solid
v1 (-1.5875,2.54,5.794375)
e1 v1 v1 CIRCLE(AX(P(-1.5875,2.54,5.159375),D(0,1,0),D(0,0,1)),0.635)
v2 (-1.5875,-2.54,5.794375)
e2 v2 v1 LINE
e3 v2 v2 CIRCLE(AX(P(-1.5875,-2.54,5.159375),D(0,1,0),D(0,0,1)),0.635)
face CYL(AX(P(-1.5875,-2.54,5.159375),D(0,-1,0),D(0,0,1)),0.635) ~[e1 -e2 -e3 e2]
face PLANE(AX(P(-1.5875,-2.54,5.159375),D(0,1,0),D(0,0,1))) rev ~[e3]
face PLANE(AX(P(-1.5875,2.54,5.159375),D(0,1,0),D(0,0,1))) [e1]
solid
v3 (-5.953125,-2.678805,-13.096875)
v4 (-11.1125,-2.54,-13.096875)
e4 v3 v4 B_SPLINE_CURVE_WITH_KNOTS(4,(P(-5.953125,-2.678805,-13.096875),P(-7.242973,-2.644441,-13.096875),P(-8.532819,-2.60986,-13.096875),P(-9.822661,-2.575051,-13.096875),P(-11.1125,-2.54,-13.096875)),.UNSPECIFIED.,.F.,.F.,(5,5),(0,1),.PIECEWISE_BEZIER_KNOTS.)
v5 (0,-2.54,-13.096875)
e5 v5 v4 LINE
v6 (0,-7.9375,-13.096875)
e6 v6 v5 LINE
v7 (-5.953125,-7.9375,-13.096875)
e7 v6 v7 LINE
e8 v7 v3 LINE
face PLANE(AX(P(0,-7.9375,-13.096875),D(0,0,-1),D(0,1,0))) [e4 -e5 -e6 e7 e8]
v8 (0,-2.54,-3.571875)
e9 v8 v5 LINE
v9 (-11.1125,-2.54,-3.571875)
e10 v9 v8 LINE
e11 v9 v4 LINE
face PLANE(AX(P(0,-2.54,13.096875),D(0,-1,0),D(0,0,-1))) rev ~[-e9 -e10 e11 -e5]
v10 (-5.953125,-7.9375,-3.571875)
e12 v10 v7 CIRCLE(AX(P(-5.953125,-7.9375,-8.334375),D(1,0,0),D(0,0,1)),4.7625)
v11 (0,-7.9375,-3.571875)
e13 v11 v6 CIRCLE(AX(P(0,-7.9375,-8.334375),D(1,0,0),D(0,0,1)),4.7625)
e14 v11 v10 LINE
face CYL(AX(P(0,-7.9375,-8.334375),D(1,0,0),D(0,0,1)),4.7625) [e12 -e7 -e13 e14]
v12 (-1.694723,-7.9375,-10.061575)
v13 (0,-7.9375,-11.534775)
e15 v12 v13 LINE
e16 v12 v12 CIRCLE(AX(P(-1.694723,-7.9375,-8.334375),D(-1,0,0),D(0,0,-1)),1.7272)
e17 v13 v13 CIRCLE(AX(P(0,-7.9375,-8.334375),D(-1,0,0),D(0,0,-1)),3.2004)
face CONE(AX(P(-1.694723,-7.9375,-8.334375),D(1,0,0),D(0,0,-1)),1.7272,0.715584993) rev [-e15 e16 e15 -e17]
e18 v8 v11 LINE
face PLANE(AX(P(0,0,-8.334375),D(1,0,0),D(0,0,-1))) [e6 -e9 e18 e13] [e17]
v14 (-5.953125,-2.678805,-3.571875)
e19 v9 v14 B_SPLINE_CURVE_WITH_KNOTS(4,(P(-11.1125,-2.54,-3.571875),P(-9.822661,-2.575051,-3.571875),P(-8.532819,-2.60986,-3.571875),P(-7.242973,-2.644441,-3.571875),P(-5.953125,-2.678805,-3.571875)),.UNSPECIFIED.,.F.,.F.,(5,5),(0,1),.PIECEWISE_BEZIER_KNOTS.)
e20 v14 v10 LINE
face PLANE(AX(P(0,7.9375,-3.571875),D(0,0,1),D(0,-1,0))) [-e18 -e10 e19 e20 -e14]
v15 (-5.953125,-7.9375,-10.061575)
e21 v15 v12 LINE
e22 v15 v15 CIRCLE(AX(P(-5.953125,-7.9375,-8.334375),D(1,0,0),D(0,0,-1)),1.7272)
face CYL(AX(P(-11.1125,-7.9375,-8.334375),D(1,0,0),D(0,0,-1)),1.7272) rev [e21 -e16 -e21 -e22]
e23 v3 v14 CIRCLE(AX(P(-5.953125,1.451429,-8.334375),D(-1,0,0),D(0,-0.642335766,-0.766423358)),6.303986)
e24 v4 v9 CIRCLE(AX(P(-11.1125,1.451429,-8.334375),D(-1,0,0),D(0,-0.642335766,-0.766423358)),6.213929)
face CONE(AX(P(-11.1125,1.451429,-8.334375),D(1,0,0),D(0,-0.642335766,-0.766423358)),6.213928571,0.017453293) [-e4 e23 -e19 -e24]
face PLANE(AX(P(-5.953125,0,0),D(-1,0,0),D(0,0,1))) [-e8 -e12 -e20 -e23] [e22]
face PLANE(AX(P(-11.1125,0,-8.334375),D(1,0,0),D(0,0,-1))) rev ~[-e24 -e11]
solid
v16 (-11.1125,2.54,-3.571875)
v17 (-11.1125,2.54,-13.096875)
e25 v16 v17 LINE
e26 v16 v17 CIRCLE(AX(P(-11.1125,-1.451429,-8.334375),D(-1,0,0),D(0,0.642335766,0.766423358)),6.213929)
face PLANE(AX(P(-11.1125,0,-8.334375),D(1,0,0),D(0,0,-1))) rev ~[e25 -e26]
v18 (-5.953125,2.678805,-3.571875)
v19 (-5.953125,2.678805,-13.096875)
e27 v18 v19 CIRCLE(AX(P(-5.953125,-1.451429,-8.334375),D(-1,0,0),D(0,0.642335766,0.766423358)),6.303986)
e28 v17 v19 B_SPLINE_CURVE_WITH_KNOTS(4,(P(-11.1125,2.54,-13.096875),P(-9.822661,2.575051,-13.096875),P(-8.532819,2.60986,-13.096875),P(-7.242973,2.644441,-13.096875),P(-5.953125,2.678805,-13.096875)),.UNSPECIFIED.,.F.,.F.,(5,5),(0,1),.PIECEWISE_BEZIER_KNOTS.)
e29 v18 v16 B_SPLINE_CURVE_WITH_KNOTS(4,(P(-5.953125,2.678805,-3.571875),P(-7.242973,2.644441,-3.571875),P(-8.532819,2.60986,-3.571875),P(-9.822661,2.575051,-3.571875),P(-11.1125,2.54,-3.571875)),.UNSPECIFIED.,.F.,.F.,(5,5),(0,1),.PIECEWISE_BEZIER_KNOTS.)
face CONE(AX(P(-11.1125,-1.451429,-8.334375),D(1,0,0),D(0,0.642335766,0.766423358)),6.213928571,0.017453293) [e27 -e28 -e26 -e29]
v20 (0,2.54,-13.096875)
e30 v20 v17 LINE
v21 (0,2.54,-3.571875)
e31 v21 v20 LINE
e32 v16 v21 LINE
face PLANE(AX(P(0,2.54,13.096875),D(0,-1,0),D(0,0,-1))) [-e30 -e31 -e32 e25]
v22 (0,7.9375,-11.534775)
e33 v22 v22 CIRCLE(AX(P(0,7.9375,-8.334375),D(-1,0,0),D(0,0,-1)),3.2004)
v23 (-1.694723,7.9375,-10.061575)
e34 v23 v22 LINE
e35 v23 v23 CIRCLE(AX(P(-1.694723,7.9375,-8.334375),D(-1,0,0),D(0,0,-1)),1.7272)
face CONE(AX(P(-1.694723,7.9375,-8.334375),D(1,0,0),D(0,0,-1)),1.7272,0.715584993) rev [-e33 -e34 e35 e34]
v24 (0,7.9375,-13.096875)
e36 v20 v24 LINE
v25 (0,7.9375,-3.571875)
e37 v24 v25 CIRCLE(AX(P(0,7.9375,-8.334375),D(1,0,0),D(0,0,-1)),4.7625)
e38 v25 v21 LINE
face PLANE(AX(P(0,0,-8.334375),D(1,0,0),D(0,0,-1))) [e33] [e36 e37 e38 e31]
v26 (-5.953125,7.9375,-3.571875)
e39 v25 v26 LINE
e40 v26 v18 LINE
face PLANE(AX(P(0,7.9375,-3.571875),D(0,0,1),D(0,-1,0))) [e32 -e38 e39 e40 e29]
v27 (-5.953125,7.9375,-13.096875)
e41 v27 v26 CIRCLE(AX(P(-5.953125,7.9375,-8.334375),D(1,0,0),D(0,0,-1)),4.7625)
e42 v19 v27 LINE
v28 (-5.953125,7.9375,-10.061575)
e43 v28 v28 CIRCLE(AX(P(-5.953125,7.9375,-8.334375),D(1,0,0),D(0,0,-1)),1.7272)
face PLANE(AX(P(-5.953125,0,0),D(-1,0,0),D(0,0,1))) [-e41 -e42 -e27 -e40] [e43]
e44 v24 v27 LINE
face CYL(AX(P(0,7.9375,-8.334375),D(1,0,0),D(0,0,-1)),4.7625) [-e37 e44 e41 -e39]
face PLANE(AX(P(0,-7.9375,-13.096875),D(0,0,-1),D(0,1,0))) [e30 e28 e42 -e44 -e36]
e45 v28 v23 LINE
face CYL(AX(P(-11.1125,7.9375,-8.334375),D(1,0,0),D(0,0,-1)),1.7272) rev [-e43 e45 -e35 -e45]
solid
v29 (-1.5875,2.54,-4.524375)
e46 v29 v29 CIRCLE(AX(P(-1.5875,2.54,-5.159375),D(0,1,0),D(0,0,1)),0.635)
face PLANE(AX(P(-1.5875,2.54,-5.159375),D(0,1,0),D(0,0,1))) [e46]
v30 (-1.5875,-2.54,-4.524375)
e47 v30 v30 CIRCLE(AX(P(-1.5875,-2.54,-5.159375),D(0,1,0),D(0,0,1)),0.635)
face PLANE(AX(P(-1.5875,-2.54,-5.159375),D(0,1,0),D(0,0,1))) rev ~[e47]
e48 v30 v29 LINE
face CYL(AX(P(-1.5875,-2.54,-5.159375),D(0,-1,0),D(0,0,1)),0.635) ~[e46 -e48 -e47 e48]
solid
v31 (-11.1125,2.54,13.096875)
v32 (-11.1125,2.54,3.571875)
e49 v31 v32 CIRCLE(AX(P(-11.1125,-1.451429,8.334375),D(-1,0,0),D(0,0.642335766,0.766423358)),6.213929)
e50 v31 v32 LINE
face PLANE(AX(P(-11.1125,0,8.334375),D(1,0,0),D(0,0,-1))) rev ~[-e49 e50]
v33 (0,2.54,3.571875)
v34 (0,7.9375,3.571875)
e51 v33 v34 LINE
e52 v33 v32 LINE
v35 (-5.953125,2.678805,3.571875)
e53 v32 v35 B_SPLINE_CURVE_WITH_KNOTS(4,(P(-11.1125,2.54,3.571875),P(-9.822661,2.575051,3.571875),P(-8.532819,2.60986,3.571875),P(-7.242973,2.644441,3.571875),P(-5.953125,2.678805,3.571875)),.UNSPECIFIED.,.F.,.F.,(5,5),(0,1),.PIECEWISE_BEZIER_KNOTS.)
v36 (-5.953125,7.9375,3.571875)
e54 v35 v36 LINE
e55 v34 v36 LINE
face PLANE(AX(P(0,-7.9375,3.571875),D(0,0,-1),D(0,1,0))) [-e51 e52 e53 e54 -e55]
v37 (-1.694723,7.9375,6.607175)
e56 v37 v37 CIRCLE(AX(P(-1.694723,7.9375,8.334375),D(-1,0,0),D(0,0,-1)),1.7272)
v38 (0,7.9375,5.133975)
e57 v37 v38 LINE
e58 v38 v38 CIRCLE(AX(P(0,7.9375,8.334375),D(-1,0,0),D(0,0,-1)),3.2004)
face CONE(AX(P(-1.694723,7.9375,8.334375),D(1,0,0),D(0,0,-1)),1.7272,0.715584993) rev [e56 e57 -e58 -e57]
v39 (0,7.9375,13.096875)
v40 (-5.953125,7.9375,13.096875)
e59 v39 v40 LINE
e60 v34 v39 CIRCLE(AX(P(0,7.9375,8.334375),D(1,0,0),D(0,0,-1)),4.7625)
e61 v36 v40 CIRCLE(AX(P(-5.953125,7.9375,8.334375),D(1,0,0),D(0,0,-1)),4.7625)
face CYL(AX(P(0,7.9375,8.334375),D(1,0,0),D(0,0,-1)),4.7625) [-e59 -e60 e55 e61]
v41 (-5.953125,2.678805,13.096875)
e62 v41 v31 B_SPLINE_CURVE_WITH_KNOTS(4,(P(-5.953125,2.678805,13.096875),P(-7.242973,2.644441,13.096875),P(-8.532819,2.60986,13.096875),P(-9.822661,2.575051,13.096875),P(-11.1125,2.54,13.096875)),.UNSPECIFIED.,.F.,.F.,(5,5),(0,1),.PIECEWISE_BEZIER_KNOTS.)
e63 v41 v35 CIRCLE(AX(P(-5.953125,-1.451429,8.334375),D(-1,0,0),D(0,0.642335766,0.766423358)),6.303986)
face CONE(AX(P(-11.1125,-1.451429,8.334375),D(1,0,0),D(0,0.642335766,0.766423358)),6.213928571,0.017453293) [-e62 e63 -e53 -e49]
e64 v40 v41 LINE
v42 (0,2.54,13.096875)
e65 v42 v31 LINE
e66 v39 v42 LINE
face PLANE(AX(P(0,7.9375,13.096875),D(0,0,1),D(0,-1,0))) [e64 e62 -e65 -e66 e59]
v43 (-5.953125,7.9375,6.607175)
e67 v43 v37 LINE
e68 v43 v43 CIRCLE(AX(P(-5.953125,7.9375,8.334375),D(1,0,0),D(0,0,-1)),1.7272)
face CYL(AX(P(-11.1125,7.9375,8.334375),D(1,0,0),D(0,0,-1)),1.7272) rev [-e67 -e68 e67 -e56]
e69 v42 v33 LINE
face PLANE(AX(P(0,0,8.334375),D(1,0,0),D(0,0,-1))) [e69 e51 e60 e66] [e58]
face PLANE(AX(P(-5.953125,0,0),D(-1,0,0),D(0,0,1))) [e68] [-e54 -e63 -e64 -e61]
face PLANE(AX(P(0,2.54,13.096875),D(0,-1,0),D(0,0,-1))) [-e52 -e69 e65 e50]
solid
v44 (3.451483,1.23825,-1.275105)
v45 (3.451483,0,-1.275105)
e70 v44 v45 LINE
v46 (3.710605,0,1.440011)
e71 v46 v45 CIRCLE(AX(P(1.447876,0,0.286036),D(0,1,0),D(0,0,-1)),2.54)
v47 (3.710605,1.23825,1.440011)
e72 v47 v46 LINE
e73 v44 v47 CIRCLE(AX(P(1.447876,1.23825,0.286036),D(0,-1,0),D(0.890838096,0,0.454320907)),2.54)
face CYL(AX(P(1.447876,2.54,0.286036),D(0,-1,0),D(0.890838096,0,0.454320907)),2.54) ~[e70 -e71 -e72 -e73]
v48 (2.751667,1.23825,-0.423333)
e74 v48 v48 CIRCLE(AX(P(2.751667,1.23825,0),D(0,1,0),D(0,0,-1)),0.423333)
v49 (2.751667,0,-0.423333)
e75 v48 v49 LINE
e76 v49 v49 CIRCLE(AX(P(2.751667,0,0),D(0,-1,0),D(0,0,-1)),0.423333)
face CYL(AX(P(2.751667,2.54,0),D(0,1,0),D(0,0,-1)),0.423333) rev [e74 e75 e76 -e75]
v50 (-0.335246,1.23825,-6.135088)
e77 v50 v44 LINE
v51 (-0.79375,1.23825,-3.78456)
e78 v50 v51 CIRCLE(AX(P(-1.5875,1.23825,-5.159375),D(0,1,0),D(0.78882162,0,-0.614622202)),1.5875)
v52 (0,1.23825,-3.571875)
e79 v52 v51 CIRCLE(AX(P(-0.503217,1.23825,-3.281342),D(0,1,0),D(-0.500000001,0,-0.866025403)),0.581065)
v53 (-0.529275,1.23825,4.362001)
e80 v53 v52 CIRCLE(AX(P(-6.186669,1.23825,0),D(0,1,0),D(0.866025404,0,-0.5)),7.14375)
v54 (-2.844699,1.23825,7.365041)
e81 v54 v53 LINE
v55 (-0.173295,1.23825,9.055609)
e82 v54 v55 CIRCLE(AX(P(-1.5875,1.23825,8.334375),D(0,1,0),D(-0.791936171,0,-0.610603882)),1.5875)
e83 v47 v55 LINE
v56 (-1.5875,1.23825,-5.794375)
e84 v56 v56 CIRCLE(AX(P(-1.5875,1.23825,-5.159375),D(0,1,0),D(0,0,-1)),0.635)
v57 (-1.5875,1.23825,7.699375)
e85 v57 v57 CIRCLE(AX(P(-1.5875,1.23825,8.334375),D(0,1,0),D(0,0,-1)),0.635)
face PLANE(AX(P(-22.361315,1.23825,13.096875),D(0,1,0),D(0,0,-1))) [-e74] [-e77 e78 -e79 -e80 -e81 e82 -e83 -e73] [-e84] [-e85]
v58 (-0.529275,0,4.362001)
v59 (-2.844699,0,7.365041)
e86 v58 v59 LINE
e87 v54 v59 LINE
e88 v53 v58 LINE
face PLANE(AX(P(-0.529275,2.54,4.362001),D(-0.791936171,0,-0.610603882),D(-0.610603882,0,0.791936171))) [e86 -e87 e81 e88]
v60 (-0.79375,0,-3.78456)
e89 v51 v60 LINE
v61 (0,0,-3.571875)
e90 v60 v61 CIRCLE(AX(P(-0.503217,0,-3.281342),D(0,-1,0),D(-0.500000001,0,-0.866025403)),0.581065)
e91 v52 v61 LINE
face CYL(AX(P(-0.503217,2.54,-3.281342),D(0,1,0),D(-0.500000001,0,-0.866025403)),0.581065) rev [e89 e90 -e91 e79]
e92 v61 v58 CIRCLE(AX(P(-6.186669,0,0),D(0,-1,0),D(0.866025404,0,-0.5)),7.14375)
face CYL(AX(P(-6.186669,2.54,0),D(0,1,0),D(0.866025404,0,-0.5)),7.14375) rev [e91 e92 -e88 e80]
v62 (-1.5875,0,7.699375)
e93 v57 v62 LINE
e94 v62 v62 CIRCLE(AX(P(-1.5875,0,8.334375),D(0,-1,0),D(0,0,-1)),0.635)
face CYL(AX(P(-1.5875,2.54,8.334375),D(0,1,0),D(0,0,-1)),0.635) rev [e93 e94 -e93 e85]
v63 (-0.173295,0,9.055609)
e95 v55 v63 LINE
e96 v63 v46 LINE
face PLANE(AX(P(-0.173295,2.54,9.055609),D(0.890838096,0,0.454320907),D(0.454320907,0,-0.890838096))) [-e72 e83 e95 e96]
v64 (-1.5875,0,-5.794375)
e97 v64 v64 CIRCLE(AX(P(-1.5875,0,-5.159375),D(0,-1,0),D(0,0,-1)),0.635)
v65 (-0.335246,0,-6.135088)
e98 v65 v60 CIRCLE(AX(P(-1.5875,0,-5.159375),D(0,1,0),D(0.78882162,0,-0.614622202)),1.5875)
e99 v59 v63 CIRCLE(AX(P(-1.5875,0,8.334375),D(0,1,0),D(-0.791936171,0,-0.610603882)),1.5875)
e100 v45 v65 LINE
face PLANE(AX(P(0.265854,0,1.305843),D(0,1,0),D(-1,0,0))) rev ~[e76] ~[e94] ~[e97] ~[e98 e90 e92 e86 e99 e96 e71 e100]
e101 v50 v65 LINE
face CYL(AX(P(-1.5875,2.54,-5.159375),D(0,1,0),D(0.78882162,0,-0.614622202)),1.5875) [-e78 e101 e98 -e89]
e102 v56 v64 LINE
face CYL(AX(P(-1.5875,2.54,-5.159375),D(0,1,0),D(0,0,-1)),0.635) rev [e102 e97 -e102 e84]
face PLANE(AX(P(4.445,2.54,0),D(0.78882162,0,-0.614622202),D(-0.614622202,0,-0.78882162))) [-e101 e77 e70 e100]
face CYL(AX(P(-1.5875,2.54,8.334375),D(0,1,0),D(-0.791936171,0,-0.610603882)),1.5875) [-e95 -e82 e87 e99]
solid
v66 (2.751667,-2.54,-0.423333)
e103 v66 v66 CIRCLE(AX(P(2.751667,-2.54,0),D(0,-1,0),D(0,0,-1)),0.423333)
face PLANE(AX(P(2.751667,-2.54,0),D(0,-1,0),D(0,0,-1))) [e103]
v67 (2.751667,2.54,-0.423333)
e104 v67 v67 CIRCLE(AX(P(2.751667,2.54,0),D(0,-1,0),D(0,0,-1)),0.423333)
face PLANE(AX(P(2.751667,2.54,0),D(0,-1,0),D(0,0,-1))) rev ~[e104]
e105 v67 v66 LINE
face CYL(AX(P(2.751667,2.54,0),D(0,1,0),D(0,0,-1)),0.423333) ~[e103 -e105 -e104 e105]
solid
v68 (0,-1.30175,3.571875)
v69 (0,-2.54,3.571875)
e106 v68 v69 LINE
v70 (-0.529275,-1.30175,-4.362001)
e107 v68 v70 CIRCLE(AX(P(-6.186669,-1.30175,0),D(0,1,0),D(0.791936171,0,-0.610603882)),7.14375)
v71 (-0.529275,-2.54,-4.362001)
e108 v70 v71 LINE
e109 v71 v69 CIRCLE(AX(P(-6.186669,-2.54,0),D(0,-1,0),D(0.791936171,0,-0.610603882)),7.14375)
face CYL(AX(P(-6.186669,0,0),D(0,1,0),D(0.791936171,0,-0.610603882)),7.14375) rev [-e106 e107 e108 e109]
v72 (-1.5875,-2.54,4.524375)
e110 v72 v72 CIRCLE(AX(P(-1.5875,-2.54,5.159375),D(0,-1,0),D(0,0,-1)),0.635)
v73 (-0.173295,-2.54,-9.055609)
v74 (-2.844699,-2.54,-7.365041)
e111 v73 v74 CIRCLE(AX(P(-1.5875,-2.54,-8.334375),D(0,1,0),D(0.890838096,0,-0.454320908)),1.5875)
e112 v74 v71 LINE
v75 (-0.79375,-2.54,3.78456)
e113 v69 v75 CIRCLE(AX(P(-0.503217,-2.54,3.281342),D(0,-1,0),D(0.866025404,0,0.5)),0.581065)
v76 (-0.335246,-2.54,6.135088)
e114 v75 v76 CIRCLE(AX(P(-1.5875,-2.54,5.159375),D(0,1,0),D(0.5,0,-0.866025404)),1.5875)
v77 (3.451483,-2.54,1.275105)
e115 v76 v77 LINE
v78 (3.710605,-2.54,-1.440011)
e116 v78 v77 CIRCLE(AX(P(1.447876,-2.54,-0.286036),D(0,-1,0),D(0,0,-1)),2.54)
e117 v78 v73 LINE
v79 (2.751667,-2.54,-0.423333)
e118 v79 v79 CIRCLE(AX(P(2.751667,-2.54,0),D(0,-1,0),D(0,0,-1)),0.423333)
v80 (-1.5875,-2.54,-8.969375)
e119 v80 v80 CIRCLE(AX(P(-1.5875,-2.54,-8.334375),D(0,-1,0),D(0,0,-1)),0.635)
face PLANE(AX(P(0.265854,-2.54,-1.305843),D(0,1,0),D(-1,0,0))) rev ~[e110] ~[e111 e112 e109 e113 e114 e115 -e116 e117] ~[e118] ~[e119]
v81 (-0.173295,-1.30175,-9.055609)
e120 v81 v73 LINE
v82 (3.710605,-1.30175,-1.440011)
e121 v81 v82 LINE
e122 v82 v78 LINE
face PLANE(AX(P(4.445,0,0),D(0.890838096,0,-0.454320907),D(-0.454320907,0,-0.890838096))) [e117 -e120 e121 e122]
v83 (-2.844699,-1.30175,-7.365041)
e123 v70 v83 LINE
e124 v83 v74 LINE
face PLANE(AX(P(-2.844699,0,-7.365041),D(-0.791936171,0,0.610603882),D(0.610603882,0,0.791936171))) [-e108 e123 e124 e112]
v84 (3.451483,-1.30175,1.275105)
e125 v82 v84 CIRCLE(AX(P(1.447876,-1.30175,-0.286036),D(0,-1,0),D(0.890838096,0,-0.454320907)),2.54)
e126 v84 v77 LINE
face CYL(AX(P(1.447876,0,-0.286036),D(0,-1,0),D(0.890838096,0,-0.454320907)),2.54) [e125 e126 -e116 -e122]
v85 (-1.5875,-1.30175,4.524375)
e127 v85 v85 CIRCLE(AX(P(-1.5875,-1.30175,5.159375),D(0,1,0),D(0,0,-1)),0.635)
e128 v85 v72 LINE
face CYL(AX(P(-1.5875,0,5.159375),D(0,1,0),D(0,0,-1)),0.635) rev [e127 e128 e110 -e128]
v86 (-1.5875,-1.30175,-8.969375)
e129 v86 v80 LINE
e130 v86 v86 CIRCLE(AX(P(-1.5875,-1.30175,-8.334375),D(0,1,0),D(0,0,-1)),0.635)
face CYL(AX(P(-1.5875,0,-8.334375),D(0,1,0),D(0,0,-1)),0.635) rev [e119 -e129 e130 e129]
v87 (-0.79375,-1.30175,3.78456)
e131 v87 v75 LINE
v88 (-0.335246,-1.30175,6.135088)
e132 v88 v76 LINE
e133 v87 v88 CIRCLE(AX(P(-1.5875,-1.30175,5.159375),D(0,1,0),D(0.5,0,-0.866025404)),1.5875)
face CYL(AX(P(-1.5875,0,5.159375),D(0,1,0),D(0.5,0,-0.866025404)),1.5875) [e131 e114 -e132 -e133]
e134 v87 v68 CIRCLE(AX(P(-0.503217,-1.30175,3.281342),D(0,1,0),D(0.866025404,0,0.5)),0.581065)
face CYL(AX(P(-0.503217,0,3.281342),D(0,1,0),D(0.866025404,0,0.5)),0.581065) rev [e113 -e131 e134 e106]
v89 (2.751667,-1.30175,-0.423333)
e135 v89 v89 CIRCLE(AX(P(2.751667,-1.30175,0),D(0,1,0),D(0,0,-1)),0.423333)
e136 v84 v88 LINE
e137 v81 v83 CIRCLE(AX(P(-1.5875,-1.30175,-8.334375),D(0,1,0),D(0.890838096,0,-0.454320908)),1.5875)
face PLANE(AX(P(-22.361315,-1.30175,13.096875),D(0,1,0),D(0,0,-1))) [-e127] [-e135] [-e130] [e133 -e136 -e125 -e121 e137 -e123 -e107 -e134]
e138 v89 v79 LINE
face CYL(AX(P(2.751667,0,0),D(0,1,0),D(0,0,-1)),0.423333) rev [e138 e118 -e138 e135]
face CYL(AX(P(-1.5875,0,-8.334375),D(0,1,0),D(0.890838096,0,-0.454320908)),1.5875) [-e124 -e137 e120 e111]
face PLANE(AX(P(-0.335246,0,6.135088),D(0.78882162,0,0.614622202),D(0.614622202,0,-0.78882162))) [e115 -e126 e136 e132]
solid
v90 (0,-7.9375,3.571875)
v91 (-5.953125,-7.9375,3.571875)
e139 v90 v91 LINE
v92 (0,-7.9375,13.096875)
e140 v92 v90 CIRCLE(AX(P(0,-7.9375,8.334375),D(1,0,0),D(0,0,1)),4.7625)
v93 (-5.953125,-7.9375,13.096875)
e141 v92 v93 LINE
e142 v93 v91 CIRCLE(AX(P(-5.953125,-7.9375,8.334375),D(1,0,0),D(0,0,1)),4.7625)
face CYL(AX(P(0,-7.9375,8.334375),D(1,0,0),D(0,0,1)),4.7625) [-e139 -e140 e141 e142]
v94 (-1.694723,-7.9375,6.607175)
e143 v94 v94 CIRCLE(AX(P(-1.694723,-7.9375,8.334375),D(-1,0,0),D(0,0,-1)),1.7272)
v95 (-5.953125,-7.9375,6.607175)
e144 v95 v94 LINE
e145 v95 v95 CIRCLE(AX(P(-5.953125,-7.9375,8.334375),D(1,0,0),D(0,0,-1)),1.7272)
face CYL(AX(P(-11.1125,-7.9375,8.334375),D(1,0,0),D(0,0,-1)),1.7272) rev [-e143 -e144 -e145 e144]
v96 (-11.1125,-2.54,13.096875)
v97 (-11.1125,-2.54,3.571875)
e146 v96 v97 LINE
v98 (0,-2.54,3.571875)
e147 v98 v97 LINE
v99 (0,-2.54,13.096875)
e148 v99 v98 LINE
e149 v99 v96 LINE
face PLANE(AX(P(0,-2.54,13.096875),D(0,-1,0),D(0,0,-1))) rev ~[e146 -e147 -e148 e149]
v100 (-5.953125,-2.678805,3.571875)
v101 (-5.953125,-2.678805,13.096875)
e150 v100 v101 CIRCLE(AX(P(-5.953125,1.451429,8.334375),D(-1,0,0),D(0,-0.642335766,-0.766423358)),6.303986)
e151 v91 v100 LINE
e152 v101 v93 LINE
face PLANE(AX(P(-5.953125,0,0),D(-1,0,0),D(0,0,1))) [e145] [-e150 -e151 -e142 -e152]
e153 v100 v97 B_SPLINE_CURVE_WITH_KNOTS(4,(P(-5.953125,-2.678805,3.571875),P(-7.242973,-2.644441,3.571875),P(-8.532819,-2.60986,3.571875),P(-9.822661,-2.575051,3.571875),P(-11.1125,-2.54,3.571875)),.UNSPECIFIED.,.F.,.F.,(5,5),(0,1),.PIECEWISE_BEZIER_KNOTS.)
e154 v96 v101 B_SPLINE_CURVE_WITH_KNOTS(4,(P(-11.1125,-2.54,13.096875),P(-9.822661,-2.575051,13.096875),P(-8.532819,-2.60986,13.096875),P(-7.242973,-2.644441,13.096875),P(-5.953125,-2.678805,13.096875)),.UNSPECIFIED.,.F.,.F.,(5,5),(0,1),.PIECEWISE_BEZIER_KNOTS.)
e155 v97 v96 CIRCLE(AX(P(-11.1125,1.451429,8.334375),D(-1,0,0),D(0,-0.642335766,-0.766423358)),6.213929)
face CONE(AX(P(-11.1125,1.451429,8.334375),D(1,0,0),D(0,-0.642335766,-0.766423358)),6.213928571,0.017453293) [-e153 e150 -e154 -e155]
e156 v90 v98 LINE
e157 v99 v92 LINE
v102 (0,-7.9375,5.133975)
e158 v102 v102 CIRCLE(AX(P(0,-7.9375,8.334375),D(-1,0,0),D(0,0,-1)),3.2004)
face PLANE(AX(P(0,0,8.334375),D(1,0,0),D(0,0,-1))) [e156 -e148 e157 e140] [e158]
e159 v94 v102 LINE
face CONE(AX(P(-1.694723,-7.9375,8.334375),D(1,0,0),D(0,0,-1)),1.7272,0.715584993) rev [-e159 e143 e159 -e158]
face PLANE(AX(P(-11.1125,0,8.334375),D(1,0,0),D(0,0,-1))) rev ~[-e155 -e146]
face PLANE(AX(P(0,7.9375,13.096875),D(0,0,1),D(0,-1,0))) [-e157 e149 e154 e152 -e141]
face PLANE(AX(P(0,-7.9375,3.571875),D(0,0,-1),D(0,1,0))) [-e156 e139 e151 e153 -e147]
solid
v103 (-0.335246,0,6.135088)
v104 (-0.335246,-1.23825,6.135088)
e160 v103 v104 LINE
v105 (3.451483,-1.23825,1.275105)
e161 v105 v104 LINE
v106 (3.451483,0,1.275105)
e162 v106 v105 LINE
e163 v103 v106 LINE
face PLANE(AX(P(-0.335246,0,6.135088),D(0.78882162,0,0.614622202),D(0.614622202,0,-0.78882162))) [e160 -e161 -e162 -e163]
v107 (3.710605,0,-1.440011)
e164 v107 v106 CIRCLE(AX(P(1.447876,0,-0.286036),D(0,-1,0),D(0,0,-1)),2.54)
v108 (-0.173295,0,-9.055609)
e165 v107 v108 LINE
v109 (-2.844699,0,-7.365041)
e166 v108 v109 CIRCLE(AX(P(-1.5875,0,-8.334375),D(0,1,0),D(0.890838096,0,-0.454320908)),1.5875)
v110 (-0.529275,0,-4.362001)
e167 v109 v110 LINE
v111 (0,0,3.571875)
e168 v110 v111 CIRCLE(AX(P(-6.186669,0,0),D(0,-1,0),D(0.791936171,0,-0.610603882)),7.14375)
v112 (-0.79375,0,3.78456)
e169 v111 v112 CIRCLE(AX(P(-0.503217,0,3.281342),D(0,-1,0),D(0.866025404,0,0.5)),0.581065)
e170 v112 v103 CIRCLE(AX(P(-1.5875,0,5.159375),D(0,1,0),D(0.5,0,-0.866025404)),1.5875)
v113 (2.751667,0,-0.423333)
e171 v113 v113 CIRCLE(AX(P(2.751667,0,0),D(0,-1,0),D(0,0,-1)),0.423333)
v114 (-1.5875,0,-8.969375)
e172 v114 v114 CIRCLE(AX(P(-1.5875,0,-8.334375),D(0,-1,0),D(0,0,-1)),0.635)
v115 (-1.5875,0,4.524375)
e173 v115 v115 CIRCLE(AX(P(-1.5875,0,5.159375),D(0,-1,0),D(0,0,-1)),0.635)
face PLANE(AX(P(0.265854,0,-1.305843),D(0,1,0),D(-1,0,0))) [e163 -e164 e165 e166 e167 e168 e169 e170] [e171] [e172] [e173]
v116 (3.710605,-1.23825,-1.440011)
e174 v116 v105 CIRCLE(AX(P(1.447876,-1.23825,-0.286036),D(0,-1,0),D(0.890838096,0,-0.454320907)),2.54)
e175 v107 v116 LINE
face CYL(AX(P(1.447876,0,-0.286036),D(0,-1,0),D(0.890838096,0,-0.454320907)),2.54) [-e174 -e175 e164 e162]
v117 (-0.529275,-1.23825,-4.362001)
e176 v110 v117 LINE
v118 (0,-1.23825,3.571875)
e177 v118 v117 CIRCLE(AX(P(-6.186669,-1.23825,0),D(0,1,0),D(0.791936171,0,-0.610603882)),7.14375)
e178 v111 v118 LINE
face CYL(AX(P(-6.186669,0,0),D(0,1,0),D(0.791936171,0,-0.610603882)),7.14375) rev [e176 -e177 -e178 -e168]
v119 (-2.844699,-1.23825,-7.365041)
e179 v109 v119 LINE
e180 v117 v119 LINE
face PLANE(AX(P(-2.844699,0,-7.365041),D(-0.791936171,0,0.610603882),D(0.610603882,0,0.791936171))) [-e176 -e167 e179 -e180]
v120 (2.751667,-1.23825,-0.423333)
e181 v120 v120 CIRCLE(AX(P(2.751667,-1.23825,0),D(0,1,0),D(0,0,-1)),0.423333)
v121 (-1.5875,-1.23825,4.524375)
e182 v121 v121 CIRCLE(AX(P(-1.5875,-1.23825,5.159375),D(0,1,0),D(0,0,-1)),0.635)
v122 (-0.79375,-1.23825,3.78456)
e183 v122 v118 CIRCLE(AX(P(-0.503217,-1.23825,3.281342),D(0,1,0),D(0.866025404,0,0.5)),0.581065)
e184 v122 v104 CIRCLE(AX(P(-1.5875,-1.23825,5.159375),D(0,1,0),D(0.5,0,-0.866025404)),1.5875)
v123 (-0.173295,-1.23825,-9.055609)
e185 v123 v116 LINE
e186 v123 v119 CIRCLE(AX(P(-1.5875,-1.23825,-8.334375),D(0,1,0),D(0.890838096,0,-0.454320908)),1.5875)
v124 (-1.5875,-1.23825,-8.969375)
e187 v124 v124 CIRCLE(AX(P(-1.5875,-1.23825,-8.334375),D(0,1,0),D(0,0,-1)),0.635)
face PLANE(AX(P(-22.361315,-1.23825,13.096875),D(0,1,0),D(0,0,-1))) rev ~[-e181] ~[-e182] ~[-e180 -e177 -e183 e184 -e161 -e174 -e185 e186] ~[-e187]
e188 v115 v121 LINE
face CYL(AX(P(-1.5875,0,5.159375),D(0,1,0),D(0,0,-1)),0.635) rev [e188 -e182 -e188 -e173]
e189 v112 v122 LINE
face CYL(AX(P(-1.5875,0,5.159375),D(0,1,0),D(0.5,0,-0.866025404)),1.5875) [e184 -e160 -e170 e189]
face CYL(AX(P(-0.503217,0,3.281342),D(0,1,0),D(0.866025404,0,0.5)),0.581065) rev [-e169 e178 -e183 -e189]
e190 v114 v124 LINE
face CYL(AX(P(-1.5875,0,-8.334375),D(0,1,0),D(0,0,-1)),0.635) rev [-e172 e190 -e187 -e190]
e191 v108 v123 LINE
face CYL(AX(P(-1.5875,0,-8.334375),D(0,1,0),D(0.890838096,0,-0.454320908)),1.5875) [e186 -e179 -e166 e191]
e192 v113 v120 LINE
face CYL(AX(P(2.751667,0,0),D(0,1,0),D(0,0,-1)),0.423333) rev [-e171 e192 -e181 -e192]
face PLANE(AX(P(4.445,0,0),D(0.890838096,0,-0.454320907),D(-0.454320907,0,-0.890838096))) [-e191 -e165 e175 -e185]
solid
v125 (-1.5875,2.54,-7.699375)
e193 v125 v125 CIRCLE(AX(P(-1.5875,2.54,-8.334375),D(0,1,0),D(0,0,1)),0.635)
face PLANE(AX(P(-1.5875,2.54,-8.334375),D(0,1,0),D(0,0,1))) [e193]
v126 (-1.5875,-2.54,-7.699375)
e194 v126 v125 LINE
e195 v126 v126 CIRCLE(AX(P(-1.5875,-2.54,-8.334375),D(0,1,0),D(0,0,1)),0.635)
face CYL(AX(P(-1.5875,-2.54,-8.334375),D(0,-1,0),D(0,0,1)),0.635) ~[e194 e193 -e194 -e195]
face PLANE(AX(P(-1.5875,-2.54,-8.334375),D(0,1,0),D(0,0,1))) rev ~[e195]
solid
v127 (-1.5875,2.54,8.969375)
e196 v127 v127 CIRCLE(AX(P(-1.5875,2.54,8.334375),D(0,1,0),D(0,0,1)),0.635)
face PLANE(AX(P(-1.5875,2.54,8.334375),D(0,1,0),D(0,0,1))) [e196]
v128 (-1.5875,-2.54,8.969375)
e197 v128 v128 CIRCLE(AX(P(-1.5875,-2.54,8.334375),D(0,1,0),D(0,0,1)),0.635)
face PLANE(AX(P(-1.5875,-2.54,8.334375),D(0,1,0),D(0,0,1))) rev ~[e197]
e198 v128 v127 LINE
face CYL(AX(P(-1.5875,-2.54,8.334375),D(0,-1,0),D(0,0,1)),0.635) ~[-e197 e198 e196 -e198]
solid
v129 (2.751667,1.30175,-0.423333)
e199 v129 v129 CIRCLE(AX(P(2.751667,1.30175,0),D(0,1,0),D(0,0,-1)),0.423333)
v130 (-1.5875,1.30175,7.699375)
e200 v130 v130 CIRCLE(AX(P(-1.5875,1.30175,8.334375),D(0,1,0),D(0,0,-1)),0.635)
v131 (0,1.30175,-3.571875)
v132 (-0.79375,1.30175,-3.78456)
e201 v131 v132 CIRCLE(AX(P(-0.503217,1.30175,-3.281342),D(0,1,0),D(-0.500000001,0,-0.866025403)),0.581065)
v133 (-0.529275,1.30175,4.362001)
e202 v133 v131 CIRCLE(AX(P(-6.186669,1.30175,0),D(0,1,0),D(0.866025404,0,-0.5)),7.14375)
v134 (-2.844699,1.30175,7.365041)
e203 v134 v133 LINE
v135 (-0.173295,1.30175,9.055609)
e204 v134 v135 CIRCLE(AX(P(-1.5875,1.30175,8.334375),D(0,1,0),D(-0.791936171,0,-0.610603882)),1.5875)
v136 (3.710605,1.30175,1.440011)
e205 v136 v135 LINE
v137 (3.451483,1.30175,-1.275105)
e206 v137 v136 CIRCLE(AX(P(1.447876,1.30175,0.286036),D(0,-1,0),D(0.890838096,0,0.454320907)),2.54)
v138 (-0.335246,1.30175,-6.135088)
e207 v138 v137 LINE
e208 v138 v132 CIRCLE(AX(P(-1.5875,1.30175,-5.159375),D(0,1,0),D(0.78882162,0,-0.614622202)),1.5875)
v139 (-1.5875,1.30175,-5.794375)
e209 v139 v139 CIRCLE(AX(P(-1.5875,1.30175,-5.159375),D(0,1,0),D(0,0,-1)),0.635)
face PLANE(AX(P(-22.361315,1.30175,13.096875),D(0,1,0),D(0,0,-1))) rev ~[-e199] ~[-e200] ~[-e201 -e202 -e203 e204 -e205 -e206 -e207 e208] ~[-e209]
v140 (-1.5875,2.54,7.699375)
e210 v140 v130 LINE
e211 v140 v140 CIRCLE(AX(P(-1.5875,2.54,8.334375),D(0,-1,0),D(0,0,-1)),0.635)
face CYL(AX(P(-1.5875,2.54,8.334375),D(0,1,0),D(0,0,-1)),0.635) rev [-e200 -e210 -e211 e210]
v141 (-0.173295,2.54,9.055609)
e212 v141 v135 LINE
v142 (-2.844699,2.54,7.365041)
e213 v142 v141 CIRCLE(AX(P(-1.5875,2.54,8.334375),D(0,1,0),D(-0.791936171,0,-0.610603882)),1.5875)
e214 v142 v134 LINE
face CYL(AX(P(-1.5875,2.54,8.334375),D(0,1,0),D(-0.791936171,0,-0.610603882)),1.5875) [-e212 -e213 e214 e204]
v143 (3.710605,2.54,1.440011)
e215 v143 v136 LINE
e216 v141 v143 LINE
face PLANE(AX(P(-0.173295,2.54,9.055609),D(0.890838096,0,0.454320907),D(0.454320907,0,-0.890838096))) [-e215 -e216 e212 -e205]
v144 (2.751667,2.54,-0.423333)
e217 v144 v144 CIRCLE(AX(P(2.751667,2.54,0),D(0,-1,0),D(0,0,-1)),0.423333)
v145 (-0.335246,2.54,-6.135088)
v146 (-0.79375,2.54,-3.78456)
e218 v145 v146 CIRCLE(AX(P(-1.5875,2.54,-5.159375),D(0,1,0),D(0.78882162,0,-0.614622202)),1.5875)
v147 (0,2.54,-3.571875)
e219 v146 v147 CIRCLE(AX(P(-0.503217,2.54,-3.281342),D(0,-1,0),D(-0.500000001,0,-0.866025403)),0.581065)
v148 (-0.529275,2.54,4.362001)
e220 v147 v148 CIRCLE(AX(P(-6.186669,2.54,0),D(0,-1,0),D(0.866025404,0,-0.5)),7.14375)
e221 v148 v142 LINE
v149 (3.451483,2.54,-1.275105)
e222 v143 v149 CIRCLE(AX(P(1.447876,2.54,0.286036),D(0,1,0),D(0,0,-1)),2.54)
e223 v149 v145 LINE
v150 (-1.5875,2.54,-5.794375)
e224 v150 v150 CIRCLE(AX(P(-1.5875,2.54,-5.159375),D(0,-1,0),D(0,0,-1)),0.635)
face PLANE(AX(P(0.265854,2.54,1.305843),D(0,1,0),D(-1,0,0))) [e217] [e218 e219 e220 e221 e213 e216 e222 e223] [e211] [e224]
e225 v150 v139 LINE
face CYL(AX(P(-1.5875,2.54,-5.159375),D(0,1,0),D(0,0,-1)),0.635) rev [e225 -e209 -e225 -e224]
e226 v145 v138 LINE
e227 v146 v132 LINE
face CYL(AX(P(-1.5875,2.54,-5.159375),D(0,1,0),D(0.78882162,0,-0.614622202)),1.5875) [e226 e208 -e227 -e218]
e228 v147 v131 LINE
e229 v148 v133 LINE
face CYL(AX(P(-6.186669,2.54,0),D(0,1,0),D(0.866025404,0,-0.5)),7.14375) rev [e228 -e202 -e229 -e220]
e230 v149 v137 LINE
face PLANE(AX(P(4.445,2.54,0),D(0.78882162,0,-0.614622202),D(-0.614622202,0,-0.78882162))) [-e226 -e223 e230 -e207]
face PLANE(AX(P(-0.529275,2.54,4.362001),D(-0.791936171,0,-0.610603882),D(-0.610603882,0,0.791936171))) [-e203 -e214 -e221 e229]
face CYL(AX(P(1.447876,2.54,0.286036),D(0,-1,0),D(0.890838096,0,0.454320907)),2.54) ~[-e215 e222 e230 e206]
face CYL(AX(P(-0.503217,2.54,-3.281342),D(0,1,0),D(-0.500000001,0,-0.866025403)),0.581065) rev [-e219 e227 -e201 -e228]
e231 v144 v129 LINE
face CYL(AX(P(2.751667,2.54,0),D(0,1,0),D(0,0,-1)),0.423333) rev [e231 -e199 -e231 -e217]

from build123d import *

# Parameters (mm, degrees)
EXTRUDE1_DEPTH                                = 11.1125
EXTRUDE1_2_DEPTH                              = 11.1125
SKETCH16_W                                    = 26.19375
SKETCH16_H                                    = 5.08
CUT_EXTRUDE1_DEPTH                            = 22.361315292
SKETCH34_R                                    = 0.635
SKETCH34_R_2                                  = 0.423333333
EXTRUDE18_DEPTH                               = 2.54
SKETCH35_R                                    = 0.635
SKETCH35_R_2                                  = 0.423333333
EXTRUDE19_DEPTH                               = 2.54
FILLET7_R                                     = 2.54
FILLET8_R                                     = 2.54
SKETCH13_R                                    = 0.635
EXTRUDE11_DEPTH                               = 5.08
EXTRUDE11_2_DEPTH                             = 5.08
EXTRUDE11_3_DEPTH                             = 5.08
EXTRUDE11_4_DEPTH                             = 5.08
CUT_EXTRUDE3_DEPTH                            = 22.361315292
CUT_EXTRUDE3_DEPTH_BACK                       = 22.361315292
SKETCH38_W                                    = 26.19375
SKETCH38_H                                    = 0.0635
CSK_FOR_5_FLAT_HEAD_MACHINE_SCREW1_AT_2_COUNT = 2
CSK_FOR_5_FLAT_HEAD_MACHINE_SCREW1_AT_2_PITCH = 16.66875
CSK_FOR_5_FLAT_HEAD_MACHINE_SCREW1_AT_3_COUNT = 2
CSK_FOR_5_FLAT_HEAD_MACHINE_SCREW1_AT_3_PITCH = 15.875
CSK_FOR_5_FLAT_HEAD_MACHINE_SCREW1_AT_4_COUNT = 2
CSK_FOR_5_FLAT_HEAD_MACHINE_SCREW1_AT_4_PITCH = 23.01875
SKETCH33_R                                    = 0.423333333
EXTRUDE17_DEPTH                               = 5.08
SKETCH32_OUTSIDE_W                            = 36.272
SKETCH32_OUTSIDE_H                            = 35.478
CUT_EXTRUDE2_DEPTH                            = 5.159375
CUT_EXTRUDE2_DRAFT                            = -1


with BuildPart() as part:
    # Sketch1 → Extrude1 (new body)
    with BuildSketch(Plane(origin=(0, 0, 0), x_dir=(0, 0, -1), z_dir=(1, 0, 0))):
        with BuildLine():
            Line((-13.096875, 7.9375), (-13.096875, -7.9375))
            ThreePointArc((-13.096875, -7.9375), (-8.334375, -12.7), (-3.571875, -7.9375))
            Line((-3.571875, -7.9375), (-3.571875, 7.9375))
            ThreePointArc((-3.571875, 7.9375), (-8.334375, 12.7), (-13.096875, 7.9375))
        make_face()
    extrude(amount=-EXTRUDE1_DEPTH)


with BuildPart() as body_2:
    # Sketch1 → Extrude1 2 (new body)
    with BuildSketch(Plane(origin=(0, 0, 0), x_dir=(0, 0, -1), z_dir=(1, 0, 0))):
        with BuildLine():
            Line((3.571875, 7.9375), (3.571875, -7.9375))
            ThreePointArc((3.571875, -7.9375), (8.334375, -12.7), (13.096875, -7.9375))
            Line((13.096875, -7.9375), (13.096875, 7.9375))
            ThreePointArc((13.096875, 7.9375), (8.334375, 12.7), (3.571875, 7.9375))
        make_face()
    extrude(amount=-EXTRUDE1_2_DEPTH)


with BuildPart() as cut_extrude1_tool:
    # Sketch16 → Cut-Extrude1 (new, through all)
    with BuildSketch(Plane(origin=(0, 0, 0), x_dir=(0, 0, -1), z_dir=(1, 0, 0))):
        Rectangle(SKETCH16_W, SKETCH16_H)
    extrude(amount=-CUT_EXTRUDE1_DEPTH)


with BuildPart() as part_1:
    add(part.part)

    # Cut-Extrude1: cut by cut_extrude1_tool
    add(cut_extrude1_tool.part, mode=Mode.SUBTRACT)


with BuildPart() as body_2_1:
    add(body_2.part)

    # Cut-Extrude1: cut by cut_extrude1_tool
    add(cut_extrude1_tool.part, mode=Mode.SUBTRACT)


with BuildPart() as cut_extrude1_piece_1:
    # of the separate pieces the step leaves, piece 1, a body of its own (cut_extrude1_pieces)
    add(part_1.part.solids().sort_by_distance((0, 7.9375, 3.571875))[0])

    # Sketch30 → CSK for #5 Flat Head Machine Screw1 (revolve, cut)
    with BuildSketch(Plane(origin=(0, 7.9375, 8.334375), x_dir=(0, 0, -1), z_dir=(0, 1, 0))):
        Polygon((0, 0), (0, 11.1125), (1.7272, 11.1125), (1.7272, 1.694722738), (3.2004, 0), align=None)
    csk_for_5_flat_head_machine_screw1 = revolve(axis=Axis((6.35, 7.9375, 8.334375), (-1, 0, 0)), mode=Mode.SUBTRACT)


with BuildPart() as cut_extrude1_piece_2:
    # of the separate pieces the step leaves, piece 2, a body of its own (cut_extrude1_pieces)
    add(part_1.part.solids().sort_by_distance((0, -7.9375, 3.571875))[0])

    # CSK for #5 Flat Head Machine Screw1 at 3: CSK for #5 Flat Head Machine Screw1 ×2
    with Locations(*[(0, -i * CSK_FOR_5_FLAT_HEAD_MACHINE_SCREW1_AT_3_PITCH, 0) for i in range(1, CSK_FOR_5_FLAT_HEAD_MACHINE_SCREW1_AT_3_COUNT)]):
        add(csk_for_5_flat_head_machine_screw1, mode=Mode.SUBTRACT)


with BuildPart() as cut_extrude1_piece_1_of_body_2:
    # of the separate pieces the step leaves, piece 1, a body of its own (cut_extrude1_pieces_of_body_2)
    add(body_2_1.part.solids().sort_by_distance((0, 7.9375, -13.096875))[0])

    # CSK for #5 Flat Head Machine Screw1 at 2: CSK for #5 Flat Head Machine Screw1 ×2
    with Locations(*[(0, 0, -i * CSK_FOR_5_FLAT_HEAD_MACHINE_SCREW1_AT_2_PITCH) for i in range(1, CSK_FOR_5_FLAT_HEAD_MACHINE_SCREW1_AT_2_COUNT)]):
        add(csk_for_5_flat_head_machine_screw1, mode=Mode.SUBTRACT)


with BuildPart() as cut_extrude1_piece_2_of_body_2:
    # of the separate pieces the step leaves, piece 2, a body of its own (cut_extrude1_pieces_of_body_2)
    add(body_2_1.part.solids().sort_by_distance((0, -7.9375, -13.096875))[0])

    # CSK for #5 Flat Head Machine Screw1 at 4: CSK for #5 Flat Head Machine Screw1 ×2
    with Locations(*[Vector(0, -0.689655172413793, -0.7241379310344829) * (i * CSK_FOR_5_FLAT_HEAD_MACHINE_SCREW1_AT_4_PITCH) for i in range(1, CSK_FOR_5_FLAT_HEAD_MACHINE_SCREW1_AT_4_COUNT)]):
        add(csk_for_5_flat_head_machine_screw1, mode=Mode.SUBTRACT)


with BuildPart() as body_5:
    # Sketch34 → Extrude18 (new body)
    with BuildSketch(Plane.XZ.offset(-2.54)):
        with BuildLine():
            Line((-0.173294523, 9.055609441), (4.445, 0))
            Line((4.445, 0), (-0.335245678, -6.135087746))
            ThreePointArc((-0.335245678, -6.135087746), (-3.145633171, -5.463311295), (-0.79375, -3.784559671))
            ThreePointArc((-0.79375, -3.784559671), (-0.352826562, -3.842608343), (0, -3.571875))
            ThreePointArc((0, -3.571875), (0.941237875, 0.475508106), (-0.529274955, 4.362001481))
            Line((-0.529274955, 4.362001481), (-2.844698672, 7.365041337))
            ThreePointArc((-2.844698672, 7.365041337), (-2.436421617, 9.675825088), (-0.173294523, 9.055609441))
        make_face()
        with Locations(Location((-1.5875, 8.334375, 0), (0, 0, 270))):
            Circle(SKETCH34_R, mode=Mode.SUBTRACT)
        with Locations(Location((-1.5875, -5.159375, 0), (0, 0, 270))):
            Circle(SKETCH34_R, mode=Mode.SUBTRACT)
        with Locations(Location((2.751666667, 0, 0), (0, 0, 270))):
            Circle(SKETCH34_R_2, mode=Mode.SUBTRACT)
    extrude(amount=EXTRUDE18_DEPTH)

    # Fillet7
    fillet7_edges = [body_5.edges().sort_by_distance(p)[0] for p in [
        (4.445, 1.27, 0),
    ]]
    fillet(fillet7_edges, radius=FILLET7_R)


with BuildPart() as body_6:
    # Sketch35 → Extrude19 (new body)
    with BuildSketch(Plane.XZ):
        with BuildLine():
            Line((-2.844698672, -7.365041337), (-0.529274955, -4.362001481))
            ThreePointArc((-0.529274955, -4.362001481), (0.941237875, -0.475508106), (0, 3.571875))
            ThreePointArc((0, 3.571875), (-0.352826562, 3.842608343), (-0.79375, 3.784559671))
            ThreePointArc((-0.79375, 3.784559671), (-3.145633171, 5.463311295), (-0.335245678, 6.135087746))
            Line((-0.335245678, 6.135087746), (4.445, 0))
            Line((4.445, 0), (-0.173294523, -9.055609441))
            ThreePointArc((-0.173294523, -9.055609441), (-2.436421617, -9.675825088), (-2.844698672, -7.365041337))
        make_face()
        with Locations(Location((-1.5875, -8.334375, 0), (0, 0, 270))):
            Circle(SKETCH35_R, mode=Mode.SUBTRACT)
        with Locations(Location((-1.5875, 5.159375, 0), (0, 0, 270))):
            Circle(SKETCH35_R, mode=Mode.SUBTRACT)
        with Locations(Location((2.751666667, 0, 0), (0, 0, 270))):
            Circle(SKETCH35_R_2, mode=Mode.SUBTRACT)
    extrude(amount=EXTRUDE19_DEPTH)

    # Fillet8
    fillet8_edges = [body_6.edges().sort_by_distance(p)[0] for p in [
        (4.445, -1.27, 0),
    ]]
    fillet(fillet8_edges, radius=FILLET8_R)


with BuildPart() as body_7:
    # Sketch13 → Extrude11 (new body)
    with BuildSketch(Plane(origin=(0, -2.54, 0), x_dir=(-1, 0, 0), z_dir=(0, 1, 0))):
        with Locations(Location((1.5875, 8.334375, 0), (0, 0, 90))):
            Circle(SKETCH13_R)
    extrude(amount=EXTRUDE11_DEPTH)


with BuildPart() as body_8:
    # Sketch13 → Extrude11 2 (new body)
    with BuildSketch(Plane(origin=(0, -2.54, 0), x_dir=(-1, 0, 0), z_dir=(0, 1, 0))):
        with Locations(Location((1.5875, 5.159375, 0), (0, 0, 90))):
            Circle(SKETCH13_R)
    extrude(amount=EXTRUDE11_2_DEPTH)


with BuildPart() as body_9:
    # Sketch13 → Extrude11 3 (new body)
    with BuildSketch(Plane(origin=(0, -2.54, 0), x_dir=(-1, 0, 0), z_dir=(0, 1, 0))):
        with Locations(Location((1.5875, -8.334375, 0), (0, 0, 90))):
            Circle(SKETCH13_R)
    extrude(amount=EXTRUDE11_3_DEPTH)


with BuildPart() as body_10:
    # Sketch13 → Extrude11 4 (new body)
    with BuildSketch(Plane(origin=(0, -2.54, 0), x_dir=(-1, 0, 0), z_dir=(0, 1, 0))):
        with Locations(Location((1.5875, -5.159375, 0), (0, 0, 90))):
            Circle(SKETCH13_R)
    extrude(amount=EXTRUDE11_4_DEPTH)


with BuildPart() as cut_extrude3_tool:
    # Sketch38 → Cut-Extrude3 (new, two sides: drawn at the far end of the back side and taken through both)
    with BuildSketch(Plane(origin=(0, 0, 0), x_dir=(0, 0, -1), z_dir=(1, 0, 0)).offset(-CUT_EXTRUDE3_DEPTH_BACK)):
        with Locations((0, 1.27)):
            Rectangle(SKETCH38_W, SKETCH38_H)
        with Locations((0, -1.27)):
            Rectangle(SKETCH38_W, SKETCH38_H)
    extrude(amount=CUT_EXTRUDE3_DEPTH + CUT_EXTRUDE3_DEPTH_BACK)


with BuildPart() as body_5_1:
    add(body_5.part)

    # Cut-Extrude3: cut by cut_extrude3_tool
    add(cut_extrude3_tool.part, mode=Mode.SUBTRACT)


with BuildPart() as body_6_1:
    add(body_6.part)

    # Cut-Extrude3: cut by cut_extrude3_tool
    add(cut_extrude3_tool.part, mode=Mode.SUBTRACT)


with BuildPart() as cut_extrude3_piece_1:
    # of the separate pieces the step leaves, piece 1, a body of its own (cut_extrude3_pieces)
    add(body_5_1.part.solids().sort_by_distance((3.710604976, 2.54, 1.440010913))[0])


with BuildPart() as cut_extrude3_piece_2:
    # of the separate pieces the step leaves, piece 2, a body of its own (cut_extrude3_pieces)
    add(body_5_1.part.solids().sort_by_distance((3.710604976, 1.23825, 1.440010913))[0])


with BuildPart() as cut_extrude3_piece_1_of_body_6:
    # of the separate pieces the step leaves, piece 1, a body of its own (cut_extrude3_pieces_of_body_6)
    add(body_6_1.part.solids().sort_by_distance((3.451483128, 0, 1.275104586))[0])


with BuildPart() as cut_extrude3_piece_2_of_body_6:
    # of the separate pieces the step leaves, piece 2, a body of its own (cut_extrude3_pieces_of_body_6)
    add(body_6_1.part.solids().sort_by_distance((3.451483128, -1.30175, 1.275104586))[0])


with BuildPart() as body_13:
    # Sketch33 → Extrude17 (new body)
    with BuildSketch(Plane.XZ.offset(-2.54)):
        with Locations(Location((2.751666667, 0, 0), (0, 0, 270))):
            Circle(SKETCH33_R)
    extrude(amount=EXTRUDE17_DEPTH)


with BuildPart() as cut_extrude2_tool:
    # Sketch32 outside → Cut-Extrude2 (with draft: the straight prism first)
    with BuildSketch(Plane.ZY.offset(11.1125)):
        Rectangle(SKETCH32_OUTSIDE_W, SKETCH32_OUTSIDE_H)
        with BuildLine():
            Line((-13.096875, 2.54), (-13.096875, -2.54))
            ThreePointArc((-13.096875, -2.54), (-8.334375, -4.7625), (-3.571875, -2.54))
            Line((-3.571875, -2.54), (-3.571875, 2.54))
            ThreePointArc((-3.571875, 2.54), (-8.334375, 4.7625), (-13.096875, 2.54))
        make_face(mode=Mode.SUBTRACT)
        with BuildLine():
            Line((3.571875, 2.54), (3.571875, -2.54))
            ThreePointArc((3.571875, -2.54), (8.334375, -4.7625), (13.096875, -2.54))
            Line((13.096875, -2.54), (13.096875, 2.54))
            ThreePointArc((13.096875, 2.54), (8.334375, 4.7625), (3.571875, 2.54))
        make_face(mode=Mode.SUBTRACT)
    extrude(amount=-CUT_EXTRUDE2_DEPTH)
    # Cut-Extrude2: the draft: its side faces are tilted about the plane it starts from
    cut_extrude2_sides = [cut_extrude2_tool.faces().sort_by_distance(p)[0] for p in [
        (-8.5328125, -17.739, 0),
        (-8.5328125, 0, 18.136),
        (-8.5328125, 17.739, 0),
        (-8.5328125, 0, -18.136),
        (-8.5328125, 0, -3.571875),
        (-8.5328125, -4.7625, -8.334375),
        (-8.5328125, 0, -13.096875),
        (-8.5328125, 4.7625, -8.334375),
        (-8.5328125, 0, 13.096875),
        (-8.5328125, -4.7625, 8.334375),
        (-8.5328125, 0, 3.571875),
        (-8.5328125, 4.7625, 8.334375),
    ]]
    draft(cut_extrude2_sides, Plane.ZY.offset(11.1125), CUT_EXTRUDE2_DRAFT)


with BuildPart() as cut_extrude1_piece_1_1:
    add(cut_extrude1_piece_1.part)

    # Cut-Extrude2: cut by cut_extrude2_tool
    add(cut_extrude2_tool.part, mode=Mode.SUBTRACT)


with BuildPart() as cut_extrude1_piece_2_1:
    add(cut_extrude1_piece_2.part)

    # Cut-Extrude2: cut by cut_extrude2_tool
    add(cut_extrude2_tool.part, mode=Mode.SUBTRACT)


with BuildPart() as cut_extrude1_piece_1_of_body_2_1:
    add(cut_extrude1_piece_1_of_body_2.part)

    # Cut-Extrude2: cut by cut_extrude2_tool
    add(cut_extrude2_tool.part, mode=Mode.SUBTRACT)


with BuildPart() as cut_extrude1_piece_2_of_body_2_1:
    add(cut_extrude1_piece_2_of_body_2.part)

    # Cut-Extrude2: cut by cut_extrude2_tool
    add(cut_extrude2_tool.part, mode=Mode.SUBTRACT)


solid = Compound([body_7.part, body_8.part, body_9.part, body_10.part, cut_extrude3_piece_1.part, cut_extrude3_piece_2.part, cut_extrude3_piece_1_of_body_6.part, cut_extrude3_piece_2_of_body_6.part, body_13.part, cut_extrude1_piece_1_1.part, cut_extrude1_piece_2_1.part, cut_extrude1_piece_1_of_body_2_1.part, cut_extrude1_piece_2_of_body_2_1.part])
